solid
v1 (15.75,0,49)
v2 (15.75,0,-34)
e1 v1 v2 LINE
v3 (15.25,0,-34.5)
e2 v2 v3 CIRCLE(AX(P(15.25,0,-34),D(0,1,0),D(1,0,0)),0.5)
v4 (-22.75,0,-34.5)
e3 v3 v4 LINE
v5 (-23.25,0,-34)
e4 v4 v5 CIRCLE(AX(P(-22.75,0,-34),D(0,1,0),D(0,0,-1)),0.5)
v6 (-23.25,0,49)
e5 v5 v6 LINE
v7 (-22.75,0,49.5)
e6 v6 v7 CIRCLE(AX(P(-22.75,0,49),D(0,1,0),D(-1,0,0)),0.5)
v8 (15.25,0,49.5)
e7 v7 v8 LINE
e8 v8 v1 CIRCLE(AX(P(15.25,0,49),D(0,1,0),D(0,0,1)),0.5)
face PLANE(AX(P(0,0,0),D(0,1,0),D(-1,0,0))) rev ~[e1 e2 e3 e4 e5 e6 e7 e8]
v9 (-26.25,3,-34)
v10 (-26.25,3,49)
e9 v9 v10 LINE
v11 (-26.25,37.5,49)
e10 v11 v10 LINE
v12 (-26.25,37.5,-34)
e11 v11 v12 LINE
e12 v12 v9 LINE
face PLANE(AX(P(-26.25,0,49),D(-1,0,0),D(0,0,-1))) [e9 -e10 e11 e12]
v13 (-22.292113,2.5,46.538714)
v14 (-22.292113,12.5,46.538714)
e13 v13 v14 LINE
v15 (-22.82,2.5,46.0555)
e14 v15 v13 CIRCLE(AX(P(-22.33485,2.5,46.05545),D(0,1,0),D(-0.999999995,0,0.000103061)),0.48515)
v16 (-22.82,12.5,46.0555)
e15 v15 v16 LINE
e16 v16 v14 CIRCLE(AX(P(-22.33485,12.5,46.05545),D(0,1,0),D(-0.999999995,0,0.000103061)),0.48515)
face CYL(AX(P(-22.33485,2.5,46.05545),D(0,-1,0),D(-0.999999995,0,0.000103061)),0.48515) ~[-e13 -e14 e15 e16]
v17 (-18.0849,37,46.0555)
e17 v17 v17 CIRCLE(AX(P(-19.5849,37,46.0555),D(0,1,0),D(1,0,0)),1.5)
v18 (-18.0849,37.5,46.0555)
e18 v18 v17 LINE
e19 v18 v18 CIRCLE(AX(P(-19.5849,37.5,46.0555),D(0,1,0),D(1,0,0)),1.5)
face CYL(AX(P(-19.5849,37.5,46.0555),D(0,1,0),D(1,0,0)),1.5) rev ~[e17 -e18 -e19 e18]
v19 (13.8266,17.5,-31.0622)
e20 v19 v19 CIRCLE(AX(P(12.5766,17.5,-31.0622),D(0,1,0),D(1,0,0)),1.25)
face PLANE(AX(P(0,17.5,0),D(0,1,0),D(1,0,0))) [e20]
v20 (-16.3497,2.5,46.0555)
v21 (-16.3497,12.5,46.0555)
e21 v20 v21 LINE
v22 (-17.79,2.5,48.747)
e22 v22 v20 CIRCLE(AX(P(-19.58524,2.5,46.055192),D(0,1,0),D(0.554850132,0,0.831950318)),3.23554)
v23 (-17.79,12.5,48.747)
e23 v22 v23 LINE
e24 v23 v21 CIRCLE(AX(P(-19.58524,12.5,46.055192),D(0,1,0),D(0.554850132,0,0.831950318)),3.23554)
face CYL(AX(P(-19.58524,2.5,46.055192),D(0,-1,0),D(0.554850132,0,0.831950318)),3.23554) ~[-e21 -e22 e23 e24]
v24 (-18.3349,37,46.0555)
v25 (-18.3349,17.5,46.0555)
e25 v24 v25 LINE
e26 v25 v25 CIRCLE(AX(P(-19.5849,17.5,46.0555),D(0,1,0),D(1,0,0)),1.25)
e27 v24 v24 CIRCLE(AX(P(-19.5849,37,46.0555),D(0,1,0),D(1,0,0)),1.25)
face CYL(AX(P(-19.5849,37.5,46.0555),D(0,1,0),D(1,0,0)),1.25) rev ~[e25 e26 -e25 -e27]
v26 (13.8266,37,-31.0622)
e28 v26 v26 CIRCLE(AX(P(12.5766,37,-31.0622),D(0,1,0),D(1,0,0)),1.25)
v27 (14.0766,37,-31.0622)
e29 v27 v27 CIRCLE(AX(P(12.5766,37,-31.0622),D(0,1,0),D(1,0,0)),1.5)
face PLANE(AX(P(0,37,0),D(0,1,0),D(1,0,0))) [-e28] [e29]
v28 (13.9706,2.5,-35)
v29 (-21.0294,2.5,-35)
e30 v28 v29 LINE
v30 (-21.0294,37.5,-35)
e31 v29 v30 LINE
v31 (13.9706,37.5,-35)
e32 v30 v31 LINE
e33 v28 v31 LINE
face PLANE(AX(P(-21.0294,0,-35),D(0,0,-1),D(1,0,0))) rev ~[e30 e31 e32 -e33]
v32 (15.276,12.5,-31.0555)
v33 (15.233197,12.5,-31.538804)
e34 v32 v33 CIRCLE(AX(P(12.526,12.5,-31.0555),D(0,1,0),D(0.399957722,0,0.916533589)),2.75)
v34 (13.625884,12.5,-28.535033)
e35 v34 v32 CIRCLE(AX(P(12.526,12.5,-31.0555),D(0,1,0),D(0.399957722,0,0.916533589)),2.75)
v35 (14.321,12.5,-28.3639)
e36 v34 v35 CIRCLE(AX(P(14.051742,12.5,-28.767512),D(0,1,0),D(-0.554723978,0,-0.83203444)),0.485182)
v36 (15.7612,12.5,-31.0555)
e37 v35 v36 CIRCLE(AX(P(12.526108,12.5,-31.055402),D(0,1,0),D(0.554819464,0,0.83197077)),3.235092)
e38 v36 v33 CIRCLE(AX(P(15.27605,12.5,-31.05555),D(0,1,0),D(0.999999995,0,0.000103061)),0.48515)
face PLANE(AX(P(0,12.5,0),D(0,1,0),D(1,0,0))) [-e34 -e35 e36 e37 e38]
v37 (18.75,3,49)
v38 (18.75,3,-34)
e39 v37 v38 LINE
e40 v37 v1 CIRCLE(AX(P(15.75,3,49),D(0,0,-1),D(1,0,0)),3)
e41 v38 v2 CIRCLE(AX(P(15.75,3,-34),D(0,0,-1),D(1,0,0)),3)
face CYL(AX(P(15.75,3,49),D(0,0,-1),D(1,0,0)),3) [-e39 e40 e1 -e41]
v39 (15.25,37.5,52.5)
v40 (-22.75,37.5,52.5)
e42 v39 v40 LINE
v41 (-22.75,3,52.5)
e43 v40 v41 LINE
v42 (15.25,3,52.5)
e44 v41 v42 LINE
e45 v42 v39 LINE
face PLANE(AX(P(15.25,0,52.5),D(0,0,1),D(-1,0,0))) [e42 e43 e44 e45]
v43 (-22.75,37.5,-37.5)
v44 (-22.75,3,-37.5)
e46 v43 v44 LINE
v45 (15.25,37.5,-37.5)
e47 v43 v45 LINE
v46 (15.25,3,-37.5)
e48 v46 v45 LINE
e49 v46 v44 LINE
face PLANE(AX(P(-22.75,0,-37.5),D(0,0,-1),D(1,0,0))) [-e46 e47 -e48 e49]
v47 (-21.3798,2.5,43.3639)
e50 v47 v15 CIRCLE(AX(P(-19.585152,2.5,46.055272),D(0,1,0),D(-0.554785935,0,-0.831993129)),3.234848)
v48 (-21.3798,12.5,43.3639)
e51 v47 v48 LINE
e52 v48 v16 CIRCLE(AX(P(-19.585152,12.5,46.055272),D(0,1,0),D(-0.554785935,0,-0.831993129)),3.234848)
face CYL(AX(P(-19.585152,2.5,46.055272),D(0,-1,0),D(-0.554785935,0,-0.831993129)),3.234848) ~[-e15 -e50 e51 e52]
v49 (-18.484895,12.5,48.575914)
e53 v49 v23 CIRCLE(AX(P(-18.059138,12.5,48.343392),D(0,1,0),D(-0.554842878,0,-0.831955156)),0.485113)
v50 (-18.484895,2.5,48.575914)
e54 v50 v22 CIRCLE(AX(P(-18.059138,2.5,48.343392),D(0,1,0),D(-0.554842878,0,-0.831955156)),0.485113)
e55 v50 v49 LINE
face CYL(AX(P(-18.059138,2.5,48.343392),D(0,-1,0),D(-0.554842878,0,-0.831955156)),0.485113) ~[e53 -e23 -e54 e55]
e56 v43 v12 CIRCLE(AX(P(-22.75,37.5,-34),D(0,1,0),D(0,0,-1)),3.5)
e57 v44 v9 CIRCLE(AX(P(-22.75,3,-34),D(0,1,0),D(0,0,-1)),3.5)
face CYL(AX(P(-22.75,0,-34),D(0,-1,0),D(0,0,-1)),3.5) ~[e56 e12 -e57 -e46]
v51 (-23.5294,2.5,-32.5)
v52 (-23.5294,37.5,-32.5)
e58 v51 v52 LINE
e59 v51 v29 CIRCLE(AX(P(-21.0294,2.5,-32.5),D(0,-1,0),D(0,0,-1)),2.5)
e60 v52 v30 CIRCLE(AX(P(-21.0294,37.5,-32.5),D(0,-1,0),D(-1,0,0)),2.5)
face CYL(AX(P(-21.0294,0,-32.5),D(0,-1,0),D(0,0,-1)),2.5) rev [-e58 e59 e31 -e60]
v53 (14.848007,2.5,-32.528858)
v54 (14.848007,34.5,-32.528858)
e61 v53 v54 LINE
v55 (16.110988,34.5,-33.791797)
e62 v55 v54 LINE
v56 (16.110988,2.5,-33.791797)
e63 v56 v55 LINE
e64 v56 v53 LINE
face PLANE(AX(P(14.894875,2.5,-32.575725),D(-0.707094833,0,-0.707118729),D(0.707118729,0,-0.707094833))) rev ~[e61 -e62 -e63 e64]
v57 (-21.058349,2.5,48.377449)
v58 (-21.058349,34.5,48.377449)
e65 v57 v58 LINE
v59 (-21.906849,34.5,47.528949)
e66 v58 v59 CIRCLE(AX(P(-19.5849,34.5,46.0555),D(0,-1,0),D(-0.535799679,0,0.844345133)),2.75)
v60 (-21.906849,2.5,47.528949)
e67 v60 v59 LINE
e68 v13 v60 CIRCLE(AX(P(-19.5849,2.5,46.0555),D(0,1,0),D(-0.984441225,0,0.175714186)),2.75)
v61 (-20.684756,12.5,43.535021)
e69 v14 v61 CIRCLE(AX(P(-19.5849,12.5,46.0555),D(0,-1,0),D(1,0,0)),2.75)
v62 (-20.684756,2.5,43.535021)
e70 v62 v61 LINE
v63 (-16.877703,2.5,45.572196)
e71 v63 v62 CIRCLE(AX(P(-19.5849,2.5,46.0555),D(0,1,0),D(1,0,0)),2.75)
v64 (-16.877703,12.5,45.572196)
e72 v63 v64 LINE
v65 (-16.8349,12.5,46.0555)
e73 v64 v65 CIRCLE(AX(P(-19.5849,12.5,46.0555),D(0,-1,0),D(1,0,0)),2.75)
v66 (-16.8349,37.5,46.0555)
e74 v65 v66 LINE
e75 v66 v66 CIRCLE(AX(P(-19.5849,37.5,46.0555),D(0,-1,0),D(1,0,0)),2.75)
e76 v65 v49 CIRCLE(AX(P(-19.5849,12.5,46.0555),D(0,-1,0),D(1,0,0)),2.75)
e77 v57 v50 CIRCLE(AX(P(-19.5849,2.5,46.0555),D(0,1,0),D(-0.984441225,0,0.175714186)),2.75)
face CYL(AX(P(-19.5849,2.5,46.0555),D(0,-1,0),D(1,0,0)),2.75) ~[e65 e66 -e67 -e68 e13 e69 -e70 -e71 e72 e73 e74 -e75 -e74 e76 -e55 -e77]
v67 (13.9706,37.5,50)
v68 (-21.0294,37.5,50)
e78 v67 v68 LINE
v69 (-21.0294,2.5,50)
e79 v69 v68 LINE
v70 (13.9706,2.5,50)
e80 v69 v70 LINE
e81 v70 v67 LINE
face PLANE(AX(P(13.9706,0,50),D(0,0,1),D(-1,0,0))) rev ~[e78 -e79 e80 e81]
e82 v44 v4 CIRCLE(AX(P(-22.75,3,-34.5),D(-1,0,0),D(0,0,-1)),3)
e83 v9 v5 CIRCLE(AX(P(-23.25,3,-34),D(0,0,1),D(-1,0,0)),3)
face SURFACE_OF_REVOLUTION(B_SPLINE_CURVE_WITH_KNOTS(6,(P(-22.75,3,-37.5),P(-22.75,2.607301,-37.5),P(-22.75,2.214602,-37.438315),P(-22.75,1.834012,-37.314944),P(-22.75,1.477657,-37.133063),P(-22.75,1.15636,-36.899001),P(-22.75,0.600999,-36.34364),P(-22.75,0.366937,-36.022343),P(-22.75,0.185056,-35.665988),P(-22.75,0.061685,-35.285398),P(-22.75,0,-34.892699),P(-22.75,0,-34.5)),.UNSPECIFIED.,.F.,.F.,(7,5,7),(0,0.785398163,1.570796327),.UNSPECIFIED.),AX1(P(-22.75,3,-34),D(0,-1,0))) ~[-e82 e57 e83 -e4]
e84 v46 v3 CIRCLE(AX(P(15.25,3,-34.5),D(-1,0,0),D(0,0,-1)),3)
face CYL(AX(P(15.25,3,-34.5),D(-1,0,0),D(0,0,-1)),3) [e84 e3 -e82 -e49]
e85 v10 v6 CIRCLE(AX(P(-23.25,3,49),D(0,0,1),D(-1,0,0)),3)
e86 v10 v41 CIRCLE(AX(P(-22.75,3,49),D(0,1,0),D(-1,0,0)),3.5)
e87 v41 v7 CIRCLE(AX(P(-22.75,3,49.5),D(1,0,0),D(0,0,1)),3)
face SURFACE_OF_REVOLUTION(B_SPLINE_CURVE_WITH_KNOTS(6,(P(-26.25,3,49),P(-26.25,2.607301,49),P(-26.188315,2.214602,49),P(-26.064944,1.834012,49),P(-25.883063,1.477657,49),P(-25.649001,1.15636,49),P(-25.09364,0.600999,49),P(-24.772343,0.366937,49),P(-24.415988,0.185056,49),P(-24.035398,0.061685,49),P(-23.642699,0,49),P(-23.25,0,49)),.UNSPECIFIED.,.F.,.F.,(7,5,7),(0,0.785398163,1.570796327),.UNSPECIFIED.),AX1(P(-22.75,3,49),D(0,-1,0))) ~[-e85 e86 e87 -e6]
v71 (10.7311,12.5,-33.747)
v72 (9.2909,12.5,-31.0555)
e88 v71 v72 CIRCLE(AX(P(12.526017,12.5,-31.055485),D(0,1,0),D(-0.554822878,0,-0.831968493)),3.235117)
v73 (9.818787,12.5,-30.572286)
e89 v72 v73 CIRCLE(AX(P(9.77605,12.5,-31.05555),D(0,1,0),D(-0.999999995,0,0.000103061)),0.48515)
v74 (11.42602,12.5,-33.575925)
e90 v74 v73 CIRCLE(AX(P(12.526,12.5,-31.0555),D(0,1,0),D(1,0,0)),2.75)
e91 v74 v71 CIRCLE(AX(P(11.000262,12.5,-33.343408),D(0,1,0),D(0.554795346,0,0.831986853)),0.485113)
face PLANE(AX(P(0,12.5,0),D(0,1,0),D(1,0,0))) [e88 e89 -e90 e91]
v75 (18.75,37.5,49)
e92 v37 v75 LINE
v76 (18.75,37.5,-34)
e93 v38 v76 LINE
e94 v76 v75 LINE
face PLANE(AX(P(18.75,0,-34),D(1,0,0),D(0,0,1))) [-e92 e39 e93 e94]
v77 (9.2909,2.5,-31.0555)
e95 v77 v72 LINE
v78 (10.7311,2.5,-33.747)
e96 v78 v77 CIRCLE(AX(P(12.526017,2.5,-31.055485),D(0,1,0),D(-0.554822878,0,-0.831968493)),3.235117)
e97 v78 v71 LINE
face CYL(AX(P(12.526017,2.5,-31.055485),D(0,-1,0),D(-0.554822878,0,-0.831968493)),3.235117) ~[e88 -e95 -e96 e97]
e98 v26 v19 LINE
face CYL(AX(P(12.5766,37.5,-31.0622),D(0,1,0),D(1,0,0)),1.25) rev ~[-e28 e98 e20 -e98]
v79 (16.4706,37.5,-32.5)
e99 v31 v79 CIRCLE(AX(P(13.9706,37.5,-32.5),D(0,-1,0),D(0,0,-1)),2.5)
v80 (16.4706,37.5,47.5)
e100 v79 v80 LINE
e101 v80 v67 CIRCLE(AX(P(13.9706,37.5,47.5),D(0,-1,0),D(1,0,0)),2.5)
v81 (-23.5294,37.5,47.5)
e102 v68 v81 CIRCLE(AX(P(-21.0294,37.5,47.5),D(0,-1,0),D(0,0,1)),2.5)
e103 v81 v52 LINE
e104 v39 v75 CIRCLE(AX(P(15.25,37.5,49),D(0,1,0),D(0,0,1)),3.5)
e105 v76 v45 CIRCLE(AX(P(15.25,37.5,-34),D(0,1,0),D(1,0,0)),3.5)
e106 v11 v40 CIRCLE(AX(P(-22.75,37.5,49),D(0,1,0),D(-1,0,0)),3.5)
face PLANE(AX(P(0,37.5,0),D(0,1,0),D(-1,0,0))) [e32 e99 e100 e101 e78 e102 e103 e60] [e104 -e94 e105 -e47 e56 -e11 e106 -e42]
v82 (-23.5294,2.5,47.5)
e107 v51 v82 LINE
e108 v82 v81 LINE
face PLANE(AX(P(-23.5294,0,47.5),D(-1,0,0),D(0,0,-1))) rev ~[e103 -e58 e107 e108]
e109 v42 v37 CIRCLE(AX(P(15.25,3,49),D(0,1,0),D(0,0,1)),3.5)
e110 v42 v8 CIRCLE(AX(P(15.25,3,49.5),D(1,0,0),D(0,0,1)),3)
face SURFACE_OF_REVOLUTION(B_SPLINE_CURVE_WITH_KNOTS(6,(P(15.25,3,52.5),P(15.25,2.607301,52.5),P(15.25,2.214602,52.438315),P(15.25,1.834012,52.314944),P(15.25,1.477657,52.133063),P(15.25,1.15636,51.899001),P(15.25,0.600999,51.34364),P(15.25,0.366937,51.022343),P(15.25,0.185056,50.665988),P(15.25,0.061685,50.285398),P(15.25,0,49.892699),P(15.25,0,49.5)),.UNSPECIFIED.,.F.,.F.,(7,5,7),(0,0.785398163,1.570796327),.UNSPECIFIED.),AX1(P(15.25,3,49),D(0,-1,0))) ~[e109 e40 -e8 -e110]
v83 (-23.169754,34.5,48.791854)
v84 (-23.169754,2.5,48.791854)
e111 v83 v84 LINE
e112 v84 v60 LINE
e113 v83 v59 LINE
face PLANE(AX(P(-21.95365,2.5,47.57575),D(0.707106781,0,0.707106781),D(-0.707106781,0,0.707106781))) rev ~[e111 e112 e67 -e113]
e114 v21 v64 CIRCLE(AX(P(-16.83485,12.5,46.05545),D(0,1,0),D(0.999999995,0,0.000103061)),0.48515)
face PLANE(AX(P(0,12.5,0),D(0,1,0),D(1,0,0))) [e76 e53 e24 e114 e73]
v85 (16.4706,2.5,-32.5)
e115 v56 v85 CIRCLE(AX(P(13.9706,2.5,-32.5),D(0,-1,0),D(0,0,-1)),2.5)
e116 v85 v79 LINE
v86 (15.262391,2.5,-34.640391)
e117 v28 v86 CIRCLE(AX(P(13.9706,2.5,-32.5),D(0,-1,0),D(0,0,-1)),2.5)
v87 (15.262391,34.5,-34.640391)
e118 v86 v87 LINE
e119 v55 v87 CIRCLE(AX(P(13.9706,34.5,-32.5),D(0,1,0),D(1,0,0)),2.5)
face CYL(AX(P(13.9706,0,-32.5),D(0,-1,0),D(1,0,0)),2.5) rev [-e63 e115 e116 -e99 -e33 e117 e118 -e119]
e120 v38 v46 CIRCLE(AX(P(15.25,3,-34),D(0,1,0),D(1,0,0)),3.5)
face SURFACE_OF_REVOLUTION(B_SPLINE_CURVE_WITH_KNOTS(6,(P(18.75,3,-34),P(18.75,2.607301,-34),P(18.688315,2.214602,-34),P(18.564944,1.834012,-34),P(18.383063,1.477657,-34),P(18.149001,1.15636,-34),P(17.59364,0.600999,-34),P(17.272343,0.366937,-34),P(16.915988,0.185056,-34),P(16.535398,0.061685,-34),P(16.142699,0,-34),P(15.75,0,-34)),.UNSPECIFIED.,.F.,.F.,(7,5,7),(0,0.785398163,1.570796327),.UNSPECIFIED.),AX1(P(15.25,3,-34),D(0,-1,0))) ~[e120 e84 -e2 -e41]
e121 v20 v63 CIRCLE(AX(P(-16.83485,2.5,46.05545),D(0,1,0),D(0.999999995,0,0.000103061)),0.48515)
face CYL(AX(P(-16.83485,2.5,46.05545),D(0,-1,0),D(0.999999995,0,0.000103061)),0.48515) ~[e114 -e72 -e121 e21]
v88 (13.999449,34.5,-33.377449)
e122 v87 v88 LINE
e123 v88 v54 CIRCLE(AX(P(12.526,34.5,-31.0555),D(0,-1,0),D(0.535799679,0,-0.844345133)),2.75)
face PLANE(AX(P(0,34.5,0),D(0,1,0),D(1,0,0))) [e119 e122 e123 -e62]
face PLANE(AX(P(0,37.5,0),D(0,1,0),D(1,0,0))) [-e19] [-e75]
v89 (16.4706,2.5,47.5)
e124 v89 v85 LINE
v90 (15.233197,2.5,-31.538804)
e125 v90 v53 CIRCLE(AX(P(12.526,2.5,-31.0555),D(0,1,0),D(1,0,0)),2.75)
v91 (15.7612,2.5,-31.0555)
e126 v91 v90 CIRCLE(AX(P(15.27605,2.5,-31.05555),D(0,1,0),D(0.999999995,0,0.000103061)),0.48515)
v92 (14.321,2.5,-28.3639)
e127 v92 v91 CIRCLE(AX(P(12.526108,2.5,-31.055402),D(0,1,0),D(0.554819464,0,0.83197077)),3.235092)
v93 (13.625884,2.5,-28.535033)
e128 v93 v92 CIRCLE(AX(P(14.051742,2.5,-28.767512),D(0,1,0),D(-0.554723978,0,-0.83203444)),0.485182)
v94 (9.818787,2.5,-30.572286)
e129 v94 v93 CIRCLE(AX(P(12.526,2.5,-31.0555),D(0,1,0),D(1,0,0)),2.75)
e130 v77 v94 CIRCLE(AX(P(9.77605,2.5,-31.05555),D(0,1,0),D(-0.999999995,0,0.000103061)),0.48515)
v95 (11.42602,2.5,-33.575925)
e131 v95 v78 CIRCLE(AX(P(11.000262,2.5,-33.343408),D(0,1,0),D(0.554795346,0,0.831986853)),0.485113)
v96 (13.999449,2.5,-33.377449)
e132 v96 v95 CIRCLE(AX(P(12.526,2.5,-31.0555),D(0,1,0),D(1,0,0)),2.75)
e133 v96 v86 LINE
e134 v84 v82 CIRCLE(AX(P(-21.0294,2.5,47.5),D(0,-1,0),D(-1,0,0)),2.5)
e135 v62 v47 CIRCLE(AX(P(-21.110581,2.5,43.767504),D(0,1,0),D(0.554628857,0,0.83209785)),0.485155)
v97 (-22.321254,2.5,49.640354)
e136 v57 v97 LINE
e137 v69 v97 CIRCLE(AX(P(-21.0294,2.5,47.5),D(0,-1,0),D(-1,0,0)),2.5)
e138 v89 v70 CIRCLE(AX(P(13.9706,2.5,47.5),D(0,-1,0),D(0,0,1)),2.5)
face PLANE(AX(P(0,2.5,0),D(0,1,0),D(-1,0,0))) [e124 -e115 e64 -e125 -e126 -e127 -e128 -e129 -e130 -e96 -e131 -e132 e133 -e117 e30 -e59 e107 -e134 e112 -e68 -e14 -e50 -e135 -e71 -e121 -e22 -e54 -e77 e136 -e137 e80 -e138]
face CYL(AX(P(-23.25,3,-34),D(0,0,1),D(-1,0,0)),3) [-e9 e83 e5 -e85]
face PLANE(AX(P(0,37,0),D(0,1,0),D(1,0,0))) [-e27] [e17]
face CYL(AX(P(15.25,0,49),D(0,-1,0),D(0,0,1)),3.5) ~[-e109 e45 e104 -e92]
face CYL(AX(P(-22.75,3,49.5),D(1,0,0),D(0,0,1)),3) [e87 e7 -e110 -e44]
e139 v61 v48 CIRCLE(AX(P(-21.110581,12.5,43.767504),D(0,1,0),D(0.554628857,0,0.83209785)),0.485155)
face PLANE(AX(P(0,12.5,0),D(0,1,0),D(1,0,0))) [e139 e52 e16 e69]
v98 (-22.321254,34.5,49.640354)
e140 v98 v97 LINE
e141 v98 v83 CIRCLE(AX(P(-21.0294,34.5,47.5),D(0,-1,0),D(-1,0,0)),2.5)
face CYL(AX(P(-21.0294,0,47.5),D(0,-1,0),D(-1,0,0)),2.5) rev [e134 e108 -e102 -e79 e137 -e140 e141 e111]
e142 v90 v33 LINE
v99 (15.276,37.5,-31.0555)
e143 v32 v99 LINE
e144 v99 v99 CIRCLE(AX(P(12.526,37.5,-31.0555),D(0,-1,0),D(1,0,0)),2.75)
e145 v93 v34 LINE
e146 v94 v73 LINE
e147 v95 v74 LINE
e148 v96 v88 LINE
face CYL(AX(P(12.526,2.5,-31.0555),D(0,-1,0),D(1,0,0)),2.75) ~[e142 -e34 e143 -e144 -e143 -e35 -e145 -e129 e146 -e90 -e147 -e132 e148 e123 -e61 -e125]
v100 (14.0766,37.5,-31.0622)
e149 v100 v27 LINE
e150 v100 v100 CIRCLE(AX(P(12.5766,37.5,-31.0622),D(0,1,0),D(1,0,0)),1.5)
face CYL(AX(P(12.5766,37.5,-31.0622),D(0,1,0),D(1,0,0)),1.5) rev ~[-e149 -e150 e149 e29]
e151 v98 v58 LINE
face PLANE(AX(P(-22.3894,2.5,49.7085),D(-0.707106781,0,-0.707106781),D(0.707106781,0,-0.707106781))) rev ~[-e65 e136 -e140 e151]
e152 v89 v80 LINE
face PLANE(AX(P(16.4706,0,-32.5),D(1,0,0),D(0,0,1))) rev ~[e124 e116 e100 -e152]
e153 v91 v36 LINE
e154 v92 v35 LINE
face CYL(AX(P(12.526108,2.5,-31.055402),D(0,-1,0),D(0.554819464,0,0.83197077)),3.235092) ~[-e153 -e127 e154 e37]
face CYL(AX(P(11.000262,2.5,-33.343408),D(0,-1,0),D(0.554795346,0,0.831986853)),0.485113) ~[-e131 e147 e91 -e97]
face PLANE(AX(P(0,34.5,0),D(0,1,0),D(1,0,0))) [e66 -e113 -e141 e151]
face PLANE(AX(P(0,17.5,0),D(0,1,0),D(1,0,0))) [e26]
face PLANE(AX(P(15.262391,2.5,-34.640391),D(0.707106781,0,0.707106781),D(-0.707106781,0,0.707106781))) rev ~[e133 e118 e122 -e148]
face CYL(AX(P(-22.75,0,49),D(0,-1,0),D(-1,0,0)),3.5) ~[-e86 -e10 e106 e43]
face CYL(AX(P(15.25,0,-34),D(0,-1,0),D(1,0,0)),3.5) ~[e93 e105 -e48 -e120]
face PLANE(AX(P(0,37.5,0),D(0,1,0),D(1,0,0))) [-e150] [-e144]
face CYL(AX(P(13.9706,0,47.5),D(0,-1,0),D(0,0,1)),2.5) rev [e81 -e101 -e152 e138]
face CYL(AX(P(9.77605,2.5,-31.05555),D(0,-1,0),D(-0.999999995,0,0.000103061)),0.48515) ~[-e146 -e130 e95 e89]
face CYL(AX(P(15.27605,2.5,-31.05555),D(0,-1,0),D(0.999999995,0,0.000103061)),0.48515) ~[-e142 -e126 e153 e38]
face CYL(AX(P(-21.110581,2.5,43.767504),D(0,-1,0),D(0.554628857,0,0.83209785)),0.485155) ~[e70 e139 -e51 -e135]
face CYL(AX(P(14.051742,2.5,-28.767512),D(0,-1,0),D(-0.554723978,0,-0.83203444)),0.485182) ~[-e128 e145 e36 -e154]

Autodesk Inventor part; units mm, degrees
ref_plane "YZ Plane" through (0, 0, 0) normal (1, 0, 0) x (0, 1, 0)
ref_plane "XZ Plane" through (0, 0, 0) normal (0, 1, 0) x (-1, 0, 0)
ref_plane "XY Plane" through (0, 0, 0) normal (0, 0, 1) x (1, 0, 0)
sketch "Sketch1" plane through (0, 0, 0) normal (0, 1, 0) x (-1, 0, 0)
  line L0 (-18.75, 52.5) -> (26.25, 52.5)
  line L1 (26.25, 52.5) -> (26.25, -37.5)
  line L2 (26.25, -37.5) -> (-18.75, -37.5)
  line L3 (-18.75, -37.5) -> (-18.75, 52.5)
  line L4 (26.25, 52.5) -> (-18.75, -37.5) construction
  line L5 (-16.4706, 50) -> (23.5294, 50)
  line L6 (23.5294, 50) -> (23.5294, -35)
  line L7 (23.5294, -35) -> (-16.4706, -35)
  line L8 (-16.4706, -35) -> (-16.4706, 50)
  line L9 (23.5294, 50) -> (-16.4706, -35) construction
  line L10 (23.5294, 50) -> (21.0294, 50)
  line L11 (21.0294, 50) -> (21.0294, 47.5)
  line L12 (21.0294, 47.5) -> (23.5294, 47.5)
  line L13 (23.5294, 47.5) -> (23.5294, 50)
  arc A0 (23.5294, 47.5) -> (21.0294, 50) centre (21.0294, 47.5) ccw
  line L14 (26.25, 52.5) -> (22.75, 52.5)
  line L15 (22.75, 52.5) -> (22.75, 49)
  line L16 (22.75, 49) -> (26.25, 49)
  line L17 (26.25, 49) -> (26.25, 52.5)
  line L18 (23.5294, -35) -> (21.0294, -35)
  line L19 (21.0294, -35) -> (21.0294, -32.5)
  line L20 (21.0294, -32.5) -> (23.5294, -32.5)
  line L21 (23.5294, -32.5) -> (23.5294, -35)
  line L22 (-16.4706, -35) -> (-13.9706, -35)
  line L23 (-13.9706, -35) -> (-13.9706, -32.5)
  line L24 (-13.9706, -32.5) -> (-16.4706, -32.5)
  line L25 (-16.4706, -32.5) -> (-16.4706, -35)
  line L26 (-16.4706, 50) -> (-13.9706, 50)
  line L27 (-13.9706, 50) -> (-13.9706, 47.5)
  line L28 (-13.9706, 47.5) -> (-16.4706, 47.5)
  line L29 (-16.4706, 47.5) -> (-16.4706, 50)
  arc A1 (-13.9706, 50) -> (-16.4706, 47.5) centre (-13.9706, 47.5) ccw
  arc A2 (-16.4706, -32.5) -> (-13.9706, -35) centre (-13.9706, -32.5) ccw
  arc A3 (21.0294, -35) -> (23.5294, -32.5) centre (21.0294, -32.5) ccw
  arc A4 (26.25, 49) -> (22.75, 52.5) centre (22.75, 49) ccw
  line L30 (26.25, -37.5) -> (22.75, -37.5)
  line L31 (22.75, -37.5) -> (22.75, -34)
  line L32 (22.75, -34) -> (26.25, -34)
  line L33 (26.25, -34) -> (26.25, -37.5)
  line L34 (-18.75, -37.5) -> (-15.25, -37.5)
  line L35 (-15.25, -37.5) -> (-15.25, -34)
  line L36 (-15.25, -34) -> (-18.75, -34)
  line L37 (-18.75, -34) -> (-18.75, -37.5)
  line L38 (-18.75, 52.5) -> (-15.25, 52.5)
  line L39 (-15.25, 52.5) -> (-15.25, 49)
  line L40 (-15.25, 49) -> (-18.75, 49)
  line L41 (-18.75, 49) -> (-18.75, 52.5)
  arc A5 (-15.25, 52.5) -> (-18.75, 49) centre (-15.25, 49) ccw
  arc A6 (-18.75, -34) -> (-15.25, -37.5) centre (-15.25, -34) ccw
  arc A7 (22.75, -37.5) -> (26.25, -34) centre (22.75, -34) ccw
  point P0 (0, 0)
  point P1 (26.25, 49)
  point P2 (22.75, 52.5)
  point P3 (-18.75, -34)
  point P4 (-16.4706, -32.5)
  point P5 (-15.9706, -34)
  point P6 (-16.4706, -34)
  point P7 (23.5294, -32.5)
  dimension "d0" = 45
  dimension "d1" = 90
  dimension "d2" = 40
  dimension "d3" = 85
  dimension "d8" = 2.5
  dimension "d9" = 2.5
extrude "Extrusion3" add sketch "Sketch1" along normal blind 2.5 contours L0 L15 L5 L39 | L39 L5 L8 L40 A5 | L40 L8 L36 L3 | A4 L16 L6 L5 L15 | L39 A1 L40 L8 L5 | L5 A1 L39 | L36 L8 L7 L35 A6 | L40 A1 L8 | L15 A0 L5 | L5 L6 L16 A0 L15 | L1 L32 L6 L16 | L5 L11 L12 L6 L20 L19 L7 L23 L24 L8 L28 L27 | L27 L28 A1 L40 L39 | L39 L40 A1 | L36 A2 L35 L7 L8 | L35 L7 L31 L2 | A0 L15 L16 L12 L11 | A0 L16 L15 | A7 L31 L7 L6 L32 | L6 A0 L16 | L24 L23 A2 L35 L36 | L36 L35 A2 | L35 A2 L7 | L32 A3 L6 | L6 L7 L31 A3 L32 | L7 A3 L31 | A3 L32 L31 L19 L20 | A3 L31 L32
extrude "Extrusion4" add sketch "Sketch1" along normal blind 37.5 contours L0 L15 L5 L39 | L39 L5 L8 L40 A5 | L40 L8 L36 L3 | A4 L16 L6 L5 L15 | L39 A1 L40 L8 L5 | L5 A1 L39 | L36 L8 L7 L35 A6 | L40 A1 L8 | L15 A0 L5 | L5 L6 L16 A0 L15 | L1 L32 L6 L16 | L36 A2 L35 L7 L8 | L8 A2 L36 | L35 L7 L31 L2 | A7 L31 L7 L6 L32 | L6 A0 L16 | L35 A2 L7 | L32 A3 L6 | L6 L7 L31 A3 L32 | L7 A3 L31
fillet "Fillet1" radius 3 8 edges at (-25.2249, 0, 51.4749) (-3.75, 0, 52.5) (17.7249, 0, 51.4749) (18.75, 0, 7.5) (17.7249, 0, -36.4749) (-3.75, 0, -37.5) (-25.2249, 0, -36.4749) (-26.25, 0, 7.5)
sketch "Sketch2" plane through (0, 2.5, 0) normal (0, 1, 0) x (1, 0, 0)
  arc A0 (16.4706, 32.5) -> (13.9706, 35) centre (13.9706, 32.5) ccw projected
  line L0 (13.9706, 35) -> (13.9706, 33.5)
  line L1 (16.4706, -47.5) -> (16.4706, 32.5) projected
  line L2 (16.4706, 32.5) -> (14.9706, 32.5)
  line L3 (14.9706, 32.5) -> (13.9706, 33.5)
  line L4 (14.4706, 33) -> (12.526, 31.0555)
  circle A1 centre (12.526, 31.0555) radius 2.75
  line L5 (-23.5294, 32.5) -> (-23.5294, -47.5) projected
  line L6 (-23.5294, -47.5) -> (-22.0294, -47.5)
  line L7 (-21.0294, -50) -> (13.9706, -50) projected
  line L8 (-21.0294, -50) -> (-21.0294, -48.5)
  line L9 (-21.0294, -48.5) -> (-22.0294, -47.5)
  line L10 (-21.5294, -48) -> (-19.5849, -46.0555)
  line L11 (-21.5294, -48) -> (-18.7794, -48) construction
  circle A2 centre (-19.5849, -46.0555) radius 2.75
  arc A3 (14.0518, 28.7675) -> (15.276, 31.0555) centre (12.526, 31.0555) ccw construction
  arc A4 (14.321, 28.3639) -> (15.7612, 31.0555) centre (12.526, 31.0555) ccw
  arc A5 (13.7826, 29.1712) -> (14.7909, 31.0555) centre (12.526, 31.0555) ccw
  arc A6 (13.7826, 29.1712) -> (14.321, 28.3639) centre (14.0518, 28.7675) ccw
  arc A7 (15.7612, 31.0555) -> (14.7909, 31.0555) centre (15.276, 31.0555) ccw
  arc A8 (10.7311, 33.747) -> (9.2909, 31.0555) centre (12.526, 31.0555) ccw
  arc A9 (9.2909, 31.0555) -> (10.2612, 31.0555) centre (9.776, 31.0555) ccw
  arc A10 (11.2694, 32.9398) -> (10.7311, 33.747) centre (11.0003, 33.3434) ccw
  arc A11 (11.2694, 32.9398) -> (10.2612, 31.0555) centre (12.526, 31.0555) ccw
  arc A12 (-17.79, -48.747) -> (-16.3497, -46.0555) centre (-19.5849, -46.0555) ccw
  arc A13 (-18.3283, -47.9398) -> (-17.32, -46.0555) centre (-19.5849, -46.0555) ccw
  arc A14 (-18.3283, -47.9398) -> (-17.79, -48.747) centre (-18.0591, -48.3434) ccw
  arc A15 (-16.3497, -46.0555) -> (-17.32, -46.0555) centre (-16.8349, -46.0555) ccw
  arc A16 (-21.3798, -43.3639) -> (-22.82, -46.0555) centre (-19.5849, -46.0555) ccw
  arc A17 (-22.82, -46.0555) -> (-21.8497, -46.0555) centre (-22.3349, -46.0555) ccw
  arc A18 (-20.8415, -44.1712) -> (-21.3798, -43.3639) centre (-21.1106, -43.7675) ccw
  arc A19 (-20.8415, -44.1712) -> (-21.8497, -46.0555) centre (-19.5849, -46.0555) ccw
  line L12 (-22.8137, -49.2843) -> (-20.2452, -46.7157) construction
  line L13 (-22.3894, -49.7085) -> (-19.8209, -47.14)
  line L14 (-20.6694, -46.2915) -> (-23.2379, -48.86)
  arc A20 (-23.2379, -48.86) -> (-22.3894, -49.7085) centre (-22.8137, -49.2843) ccw
  arc A21 (-19.8209, -47.14) -> (-20.6694, -46.2915) centre (-20.2452, -46.7157) ccw
  line L15 (12.9911, 31.5205) -> (15.9501, 34.4795) construction
  line L16 (13.4153, 31.0962) -> (16.3744, 34.0552)
  line L17 (15.5258, 34.9038) -> (12.5668, 31.9448)
  arc A22 (12.5668, 31.9448) -> (13.4153, 31.0962) centre (12.9911, 31.5205) ccw
  arc A23 (16.3744, 34.0552) -> (15.5258, 34.9038) centre (15.9501, 34.4795) ccw
  point P0 (0, 0)
  point P1 (14.848, 32.5289)
  point P2 (13.9995, 33.3774)
  point P3 (11.4261, 33.5759)
  point P4 (9.8188, 30.5722)
  point P5 (13.626, 28.535)
  point P6 (15.2333, 31.5387)
  point P7 (-21.9068, -47.5289)
  point P8 (-21.0583, -48.3774)
  point P9 (-18.4849, -48.5759)
  point P10 (-16.8777, -45.5722)
  point P11 (-20.6848, -43.535)
  point P12 (-22.2921, -46.5387)
  point P13 (15.2624, 34.6404)
  point P14 (16.111, 33.7918)
  dimension "d32" = 5.5
  dimension "d29" = 1.5
  dimension "d30" = 1.5
  dimension "d31" = 2.75
  dimension "d33" = 1.5
  dimension "d34" = 1.5
  dimension "d35" = 2.75
  dimension "d36" = 45
  dimension "d37" = 5.5
  dimension "d40" = 360
  dimension "d44" = 1.2
  dimension "d45" = 1.2
extrude "Extrusion5" add sketch "Sketch2" along normal blind 35 contours A0 L17 A23 L16 | A1 L16 A22 L4 | L4 A22 L17 A1 | A1 A7 A5 A6 A9 A11 A10 L17 A22 L16 | A1 A6 A5 A7 | A10 A11 A9 A1 | A2 L14 A21 L10 | L10 A21 L13 A2 | L13 A21 L14 A2 A17 A19 A18 A15 A13 A14 | A14 A13 A15 A2 | A2 A18 A19 A17
extrude "Extrusion6" add sketch "Sketch2" along normal blind 10 contours A7 A4 A6 A1 | A1 A9 A8 A10 | A2 L14 A21 L10 | L10 A21 L13 A2 | L13 A21 L14 A2 A17 A19 A18 A15 A13 A14 | A14 A13 A15 A2 | A2 A15 A12 A14 | A17 A16 A18 A2 | A2 A18 A19 A17
sketch "Sketch3" plane through (0, 37.5, 0) normal (0, 1, 0) x (1, 0, 0)
  arc A0 (-16.8349, -46.0555) -> (-16.8349, -46.0555) centre (-19.5849, -46.0555) ccw projected
  circle A1 centre (-19.5849, -46.0555) radius 1.5
  circle A2 centre (-19.5849, -46.0555) radius 1.25
  circle A3 centre (12.5766, 31.0622) radius 1.5
  circle A4 centre (12.5766, 31.0622) radius 1.25
  point P0 (0, 0)
  dimension "d50" = 3
  dimension "d51" = 2.5
  dimension "d52" = 3
  dimension "d53" = 2.5
extrude "Extrusion7" cut sketch "Sketch3" against normal blind 0.5 contours A1 | A3
extrude "Extrusion8" cut sketch "Sketch3" against normal blind 20 contours A2 | A4
extrude "Extrusion9" add sketch "Sketch2" along normal blind 32 contours L16 L3 L17 A0 | L16 A1 L3 | L3 A1 L17 | L13 A20 L14 L9 | L9 A2 L13 | L9 L14 A2
properties part number "proper shit spodnji"
